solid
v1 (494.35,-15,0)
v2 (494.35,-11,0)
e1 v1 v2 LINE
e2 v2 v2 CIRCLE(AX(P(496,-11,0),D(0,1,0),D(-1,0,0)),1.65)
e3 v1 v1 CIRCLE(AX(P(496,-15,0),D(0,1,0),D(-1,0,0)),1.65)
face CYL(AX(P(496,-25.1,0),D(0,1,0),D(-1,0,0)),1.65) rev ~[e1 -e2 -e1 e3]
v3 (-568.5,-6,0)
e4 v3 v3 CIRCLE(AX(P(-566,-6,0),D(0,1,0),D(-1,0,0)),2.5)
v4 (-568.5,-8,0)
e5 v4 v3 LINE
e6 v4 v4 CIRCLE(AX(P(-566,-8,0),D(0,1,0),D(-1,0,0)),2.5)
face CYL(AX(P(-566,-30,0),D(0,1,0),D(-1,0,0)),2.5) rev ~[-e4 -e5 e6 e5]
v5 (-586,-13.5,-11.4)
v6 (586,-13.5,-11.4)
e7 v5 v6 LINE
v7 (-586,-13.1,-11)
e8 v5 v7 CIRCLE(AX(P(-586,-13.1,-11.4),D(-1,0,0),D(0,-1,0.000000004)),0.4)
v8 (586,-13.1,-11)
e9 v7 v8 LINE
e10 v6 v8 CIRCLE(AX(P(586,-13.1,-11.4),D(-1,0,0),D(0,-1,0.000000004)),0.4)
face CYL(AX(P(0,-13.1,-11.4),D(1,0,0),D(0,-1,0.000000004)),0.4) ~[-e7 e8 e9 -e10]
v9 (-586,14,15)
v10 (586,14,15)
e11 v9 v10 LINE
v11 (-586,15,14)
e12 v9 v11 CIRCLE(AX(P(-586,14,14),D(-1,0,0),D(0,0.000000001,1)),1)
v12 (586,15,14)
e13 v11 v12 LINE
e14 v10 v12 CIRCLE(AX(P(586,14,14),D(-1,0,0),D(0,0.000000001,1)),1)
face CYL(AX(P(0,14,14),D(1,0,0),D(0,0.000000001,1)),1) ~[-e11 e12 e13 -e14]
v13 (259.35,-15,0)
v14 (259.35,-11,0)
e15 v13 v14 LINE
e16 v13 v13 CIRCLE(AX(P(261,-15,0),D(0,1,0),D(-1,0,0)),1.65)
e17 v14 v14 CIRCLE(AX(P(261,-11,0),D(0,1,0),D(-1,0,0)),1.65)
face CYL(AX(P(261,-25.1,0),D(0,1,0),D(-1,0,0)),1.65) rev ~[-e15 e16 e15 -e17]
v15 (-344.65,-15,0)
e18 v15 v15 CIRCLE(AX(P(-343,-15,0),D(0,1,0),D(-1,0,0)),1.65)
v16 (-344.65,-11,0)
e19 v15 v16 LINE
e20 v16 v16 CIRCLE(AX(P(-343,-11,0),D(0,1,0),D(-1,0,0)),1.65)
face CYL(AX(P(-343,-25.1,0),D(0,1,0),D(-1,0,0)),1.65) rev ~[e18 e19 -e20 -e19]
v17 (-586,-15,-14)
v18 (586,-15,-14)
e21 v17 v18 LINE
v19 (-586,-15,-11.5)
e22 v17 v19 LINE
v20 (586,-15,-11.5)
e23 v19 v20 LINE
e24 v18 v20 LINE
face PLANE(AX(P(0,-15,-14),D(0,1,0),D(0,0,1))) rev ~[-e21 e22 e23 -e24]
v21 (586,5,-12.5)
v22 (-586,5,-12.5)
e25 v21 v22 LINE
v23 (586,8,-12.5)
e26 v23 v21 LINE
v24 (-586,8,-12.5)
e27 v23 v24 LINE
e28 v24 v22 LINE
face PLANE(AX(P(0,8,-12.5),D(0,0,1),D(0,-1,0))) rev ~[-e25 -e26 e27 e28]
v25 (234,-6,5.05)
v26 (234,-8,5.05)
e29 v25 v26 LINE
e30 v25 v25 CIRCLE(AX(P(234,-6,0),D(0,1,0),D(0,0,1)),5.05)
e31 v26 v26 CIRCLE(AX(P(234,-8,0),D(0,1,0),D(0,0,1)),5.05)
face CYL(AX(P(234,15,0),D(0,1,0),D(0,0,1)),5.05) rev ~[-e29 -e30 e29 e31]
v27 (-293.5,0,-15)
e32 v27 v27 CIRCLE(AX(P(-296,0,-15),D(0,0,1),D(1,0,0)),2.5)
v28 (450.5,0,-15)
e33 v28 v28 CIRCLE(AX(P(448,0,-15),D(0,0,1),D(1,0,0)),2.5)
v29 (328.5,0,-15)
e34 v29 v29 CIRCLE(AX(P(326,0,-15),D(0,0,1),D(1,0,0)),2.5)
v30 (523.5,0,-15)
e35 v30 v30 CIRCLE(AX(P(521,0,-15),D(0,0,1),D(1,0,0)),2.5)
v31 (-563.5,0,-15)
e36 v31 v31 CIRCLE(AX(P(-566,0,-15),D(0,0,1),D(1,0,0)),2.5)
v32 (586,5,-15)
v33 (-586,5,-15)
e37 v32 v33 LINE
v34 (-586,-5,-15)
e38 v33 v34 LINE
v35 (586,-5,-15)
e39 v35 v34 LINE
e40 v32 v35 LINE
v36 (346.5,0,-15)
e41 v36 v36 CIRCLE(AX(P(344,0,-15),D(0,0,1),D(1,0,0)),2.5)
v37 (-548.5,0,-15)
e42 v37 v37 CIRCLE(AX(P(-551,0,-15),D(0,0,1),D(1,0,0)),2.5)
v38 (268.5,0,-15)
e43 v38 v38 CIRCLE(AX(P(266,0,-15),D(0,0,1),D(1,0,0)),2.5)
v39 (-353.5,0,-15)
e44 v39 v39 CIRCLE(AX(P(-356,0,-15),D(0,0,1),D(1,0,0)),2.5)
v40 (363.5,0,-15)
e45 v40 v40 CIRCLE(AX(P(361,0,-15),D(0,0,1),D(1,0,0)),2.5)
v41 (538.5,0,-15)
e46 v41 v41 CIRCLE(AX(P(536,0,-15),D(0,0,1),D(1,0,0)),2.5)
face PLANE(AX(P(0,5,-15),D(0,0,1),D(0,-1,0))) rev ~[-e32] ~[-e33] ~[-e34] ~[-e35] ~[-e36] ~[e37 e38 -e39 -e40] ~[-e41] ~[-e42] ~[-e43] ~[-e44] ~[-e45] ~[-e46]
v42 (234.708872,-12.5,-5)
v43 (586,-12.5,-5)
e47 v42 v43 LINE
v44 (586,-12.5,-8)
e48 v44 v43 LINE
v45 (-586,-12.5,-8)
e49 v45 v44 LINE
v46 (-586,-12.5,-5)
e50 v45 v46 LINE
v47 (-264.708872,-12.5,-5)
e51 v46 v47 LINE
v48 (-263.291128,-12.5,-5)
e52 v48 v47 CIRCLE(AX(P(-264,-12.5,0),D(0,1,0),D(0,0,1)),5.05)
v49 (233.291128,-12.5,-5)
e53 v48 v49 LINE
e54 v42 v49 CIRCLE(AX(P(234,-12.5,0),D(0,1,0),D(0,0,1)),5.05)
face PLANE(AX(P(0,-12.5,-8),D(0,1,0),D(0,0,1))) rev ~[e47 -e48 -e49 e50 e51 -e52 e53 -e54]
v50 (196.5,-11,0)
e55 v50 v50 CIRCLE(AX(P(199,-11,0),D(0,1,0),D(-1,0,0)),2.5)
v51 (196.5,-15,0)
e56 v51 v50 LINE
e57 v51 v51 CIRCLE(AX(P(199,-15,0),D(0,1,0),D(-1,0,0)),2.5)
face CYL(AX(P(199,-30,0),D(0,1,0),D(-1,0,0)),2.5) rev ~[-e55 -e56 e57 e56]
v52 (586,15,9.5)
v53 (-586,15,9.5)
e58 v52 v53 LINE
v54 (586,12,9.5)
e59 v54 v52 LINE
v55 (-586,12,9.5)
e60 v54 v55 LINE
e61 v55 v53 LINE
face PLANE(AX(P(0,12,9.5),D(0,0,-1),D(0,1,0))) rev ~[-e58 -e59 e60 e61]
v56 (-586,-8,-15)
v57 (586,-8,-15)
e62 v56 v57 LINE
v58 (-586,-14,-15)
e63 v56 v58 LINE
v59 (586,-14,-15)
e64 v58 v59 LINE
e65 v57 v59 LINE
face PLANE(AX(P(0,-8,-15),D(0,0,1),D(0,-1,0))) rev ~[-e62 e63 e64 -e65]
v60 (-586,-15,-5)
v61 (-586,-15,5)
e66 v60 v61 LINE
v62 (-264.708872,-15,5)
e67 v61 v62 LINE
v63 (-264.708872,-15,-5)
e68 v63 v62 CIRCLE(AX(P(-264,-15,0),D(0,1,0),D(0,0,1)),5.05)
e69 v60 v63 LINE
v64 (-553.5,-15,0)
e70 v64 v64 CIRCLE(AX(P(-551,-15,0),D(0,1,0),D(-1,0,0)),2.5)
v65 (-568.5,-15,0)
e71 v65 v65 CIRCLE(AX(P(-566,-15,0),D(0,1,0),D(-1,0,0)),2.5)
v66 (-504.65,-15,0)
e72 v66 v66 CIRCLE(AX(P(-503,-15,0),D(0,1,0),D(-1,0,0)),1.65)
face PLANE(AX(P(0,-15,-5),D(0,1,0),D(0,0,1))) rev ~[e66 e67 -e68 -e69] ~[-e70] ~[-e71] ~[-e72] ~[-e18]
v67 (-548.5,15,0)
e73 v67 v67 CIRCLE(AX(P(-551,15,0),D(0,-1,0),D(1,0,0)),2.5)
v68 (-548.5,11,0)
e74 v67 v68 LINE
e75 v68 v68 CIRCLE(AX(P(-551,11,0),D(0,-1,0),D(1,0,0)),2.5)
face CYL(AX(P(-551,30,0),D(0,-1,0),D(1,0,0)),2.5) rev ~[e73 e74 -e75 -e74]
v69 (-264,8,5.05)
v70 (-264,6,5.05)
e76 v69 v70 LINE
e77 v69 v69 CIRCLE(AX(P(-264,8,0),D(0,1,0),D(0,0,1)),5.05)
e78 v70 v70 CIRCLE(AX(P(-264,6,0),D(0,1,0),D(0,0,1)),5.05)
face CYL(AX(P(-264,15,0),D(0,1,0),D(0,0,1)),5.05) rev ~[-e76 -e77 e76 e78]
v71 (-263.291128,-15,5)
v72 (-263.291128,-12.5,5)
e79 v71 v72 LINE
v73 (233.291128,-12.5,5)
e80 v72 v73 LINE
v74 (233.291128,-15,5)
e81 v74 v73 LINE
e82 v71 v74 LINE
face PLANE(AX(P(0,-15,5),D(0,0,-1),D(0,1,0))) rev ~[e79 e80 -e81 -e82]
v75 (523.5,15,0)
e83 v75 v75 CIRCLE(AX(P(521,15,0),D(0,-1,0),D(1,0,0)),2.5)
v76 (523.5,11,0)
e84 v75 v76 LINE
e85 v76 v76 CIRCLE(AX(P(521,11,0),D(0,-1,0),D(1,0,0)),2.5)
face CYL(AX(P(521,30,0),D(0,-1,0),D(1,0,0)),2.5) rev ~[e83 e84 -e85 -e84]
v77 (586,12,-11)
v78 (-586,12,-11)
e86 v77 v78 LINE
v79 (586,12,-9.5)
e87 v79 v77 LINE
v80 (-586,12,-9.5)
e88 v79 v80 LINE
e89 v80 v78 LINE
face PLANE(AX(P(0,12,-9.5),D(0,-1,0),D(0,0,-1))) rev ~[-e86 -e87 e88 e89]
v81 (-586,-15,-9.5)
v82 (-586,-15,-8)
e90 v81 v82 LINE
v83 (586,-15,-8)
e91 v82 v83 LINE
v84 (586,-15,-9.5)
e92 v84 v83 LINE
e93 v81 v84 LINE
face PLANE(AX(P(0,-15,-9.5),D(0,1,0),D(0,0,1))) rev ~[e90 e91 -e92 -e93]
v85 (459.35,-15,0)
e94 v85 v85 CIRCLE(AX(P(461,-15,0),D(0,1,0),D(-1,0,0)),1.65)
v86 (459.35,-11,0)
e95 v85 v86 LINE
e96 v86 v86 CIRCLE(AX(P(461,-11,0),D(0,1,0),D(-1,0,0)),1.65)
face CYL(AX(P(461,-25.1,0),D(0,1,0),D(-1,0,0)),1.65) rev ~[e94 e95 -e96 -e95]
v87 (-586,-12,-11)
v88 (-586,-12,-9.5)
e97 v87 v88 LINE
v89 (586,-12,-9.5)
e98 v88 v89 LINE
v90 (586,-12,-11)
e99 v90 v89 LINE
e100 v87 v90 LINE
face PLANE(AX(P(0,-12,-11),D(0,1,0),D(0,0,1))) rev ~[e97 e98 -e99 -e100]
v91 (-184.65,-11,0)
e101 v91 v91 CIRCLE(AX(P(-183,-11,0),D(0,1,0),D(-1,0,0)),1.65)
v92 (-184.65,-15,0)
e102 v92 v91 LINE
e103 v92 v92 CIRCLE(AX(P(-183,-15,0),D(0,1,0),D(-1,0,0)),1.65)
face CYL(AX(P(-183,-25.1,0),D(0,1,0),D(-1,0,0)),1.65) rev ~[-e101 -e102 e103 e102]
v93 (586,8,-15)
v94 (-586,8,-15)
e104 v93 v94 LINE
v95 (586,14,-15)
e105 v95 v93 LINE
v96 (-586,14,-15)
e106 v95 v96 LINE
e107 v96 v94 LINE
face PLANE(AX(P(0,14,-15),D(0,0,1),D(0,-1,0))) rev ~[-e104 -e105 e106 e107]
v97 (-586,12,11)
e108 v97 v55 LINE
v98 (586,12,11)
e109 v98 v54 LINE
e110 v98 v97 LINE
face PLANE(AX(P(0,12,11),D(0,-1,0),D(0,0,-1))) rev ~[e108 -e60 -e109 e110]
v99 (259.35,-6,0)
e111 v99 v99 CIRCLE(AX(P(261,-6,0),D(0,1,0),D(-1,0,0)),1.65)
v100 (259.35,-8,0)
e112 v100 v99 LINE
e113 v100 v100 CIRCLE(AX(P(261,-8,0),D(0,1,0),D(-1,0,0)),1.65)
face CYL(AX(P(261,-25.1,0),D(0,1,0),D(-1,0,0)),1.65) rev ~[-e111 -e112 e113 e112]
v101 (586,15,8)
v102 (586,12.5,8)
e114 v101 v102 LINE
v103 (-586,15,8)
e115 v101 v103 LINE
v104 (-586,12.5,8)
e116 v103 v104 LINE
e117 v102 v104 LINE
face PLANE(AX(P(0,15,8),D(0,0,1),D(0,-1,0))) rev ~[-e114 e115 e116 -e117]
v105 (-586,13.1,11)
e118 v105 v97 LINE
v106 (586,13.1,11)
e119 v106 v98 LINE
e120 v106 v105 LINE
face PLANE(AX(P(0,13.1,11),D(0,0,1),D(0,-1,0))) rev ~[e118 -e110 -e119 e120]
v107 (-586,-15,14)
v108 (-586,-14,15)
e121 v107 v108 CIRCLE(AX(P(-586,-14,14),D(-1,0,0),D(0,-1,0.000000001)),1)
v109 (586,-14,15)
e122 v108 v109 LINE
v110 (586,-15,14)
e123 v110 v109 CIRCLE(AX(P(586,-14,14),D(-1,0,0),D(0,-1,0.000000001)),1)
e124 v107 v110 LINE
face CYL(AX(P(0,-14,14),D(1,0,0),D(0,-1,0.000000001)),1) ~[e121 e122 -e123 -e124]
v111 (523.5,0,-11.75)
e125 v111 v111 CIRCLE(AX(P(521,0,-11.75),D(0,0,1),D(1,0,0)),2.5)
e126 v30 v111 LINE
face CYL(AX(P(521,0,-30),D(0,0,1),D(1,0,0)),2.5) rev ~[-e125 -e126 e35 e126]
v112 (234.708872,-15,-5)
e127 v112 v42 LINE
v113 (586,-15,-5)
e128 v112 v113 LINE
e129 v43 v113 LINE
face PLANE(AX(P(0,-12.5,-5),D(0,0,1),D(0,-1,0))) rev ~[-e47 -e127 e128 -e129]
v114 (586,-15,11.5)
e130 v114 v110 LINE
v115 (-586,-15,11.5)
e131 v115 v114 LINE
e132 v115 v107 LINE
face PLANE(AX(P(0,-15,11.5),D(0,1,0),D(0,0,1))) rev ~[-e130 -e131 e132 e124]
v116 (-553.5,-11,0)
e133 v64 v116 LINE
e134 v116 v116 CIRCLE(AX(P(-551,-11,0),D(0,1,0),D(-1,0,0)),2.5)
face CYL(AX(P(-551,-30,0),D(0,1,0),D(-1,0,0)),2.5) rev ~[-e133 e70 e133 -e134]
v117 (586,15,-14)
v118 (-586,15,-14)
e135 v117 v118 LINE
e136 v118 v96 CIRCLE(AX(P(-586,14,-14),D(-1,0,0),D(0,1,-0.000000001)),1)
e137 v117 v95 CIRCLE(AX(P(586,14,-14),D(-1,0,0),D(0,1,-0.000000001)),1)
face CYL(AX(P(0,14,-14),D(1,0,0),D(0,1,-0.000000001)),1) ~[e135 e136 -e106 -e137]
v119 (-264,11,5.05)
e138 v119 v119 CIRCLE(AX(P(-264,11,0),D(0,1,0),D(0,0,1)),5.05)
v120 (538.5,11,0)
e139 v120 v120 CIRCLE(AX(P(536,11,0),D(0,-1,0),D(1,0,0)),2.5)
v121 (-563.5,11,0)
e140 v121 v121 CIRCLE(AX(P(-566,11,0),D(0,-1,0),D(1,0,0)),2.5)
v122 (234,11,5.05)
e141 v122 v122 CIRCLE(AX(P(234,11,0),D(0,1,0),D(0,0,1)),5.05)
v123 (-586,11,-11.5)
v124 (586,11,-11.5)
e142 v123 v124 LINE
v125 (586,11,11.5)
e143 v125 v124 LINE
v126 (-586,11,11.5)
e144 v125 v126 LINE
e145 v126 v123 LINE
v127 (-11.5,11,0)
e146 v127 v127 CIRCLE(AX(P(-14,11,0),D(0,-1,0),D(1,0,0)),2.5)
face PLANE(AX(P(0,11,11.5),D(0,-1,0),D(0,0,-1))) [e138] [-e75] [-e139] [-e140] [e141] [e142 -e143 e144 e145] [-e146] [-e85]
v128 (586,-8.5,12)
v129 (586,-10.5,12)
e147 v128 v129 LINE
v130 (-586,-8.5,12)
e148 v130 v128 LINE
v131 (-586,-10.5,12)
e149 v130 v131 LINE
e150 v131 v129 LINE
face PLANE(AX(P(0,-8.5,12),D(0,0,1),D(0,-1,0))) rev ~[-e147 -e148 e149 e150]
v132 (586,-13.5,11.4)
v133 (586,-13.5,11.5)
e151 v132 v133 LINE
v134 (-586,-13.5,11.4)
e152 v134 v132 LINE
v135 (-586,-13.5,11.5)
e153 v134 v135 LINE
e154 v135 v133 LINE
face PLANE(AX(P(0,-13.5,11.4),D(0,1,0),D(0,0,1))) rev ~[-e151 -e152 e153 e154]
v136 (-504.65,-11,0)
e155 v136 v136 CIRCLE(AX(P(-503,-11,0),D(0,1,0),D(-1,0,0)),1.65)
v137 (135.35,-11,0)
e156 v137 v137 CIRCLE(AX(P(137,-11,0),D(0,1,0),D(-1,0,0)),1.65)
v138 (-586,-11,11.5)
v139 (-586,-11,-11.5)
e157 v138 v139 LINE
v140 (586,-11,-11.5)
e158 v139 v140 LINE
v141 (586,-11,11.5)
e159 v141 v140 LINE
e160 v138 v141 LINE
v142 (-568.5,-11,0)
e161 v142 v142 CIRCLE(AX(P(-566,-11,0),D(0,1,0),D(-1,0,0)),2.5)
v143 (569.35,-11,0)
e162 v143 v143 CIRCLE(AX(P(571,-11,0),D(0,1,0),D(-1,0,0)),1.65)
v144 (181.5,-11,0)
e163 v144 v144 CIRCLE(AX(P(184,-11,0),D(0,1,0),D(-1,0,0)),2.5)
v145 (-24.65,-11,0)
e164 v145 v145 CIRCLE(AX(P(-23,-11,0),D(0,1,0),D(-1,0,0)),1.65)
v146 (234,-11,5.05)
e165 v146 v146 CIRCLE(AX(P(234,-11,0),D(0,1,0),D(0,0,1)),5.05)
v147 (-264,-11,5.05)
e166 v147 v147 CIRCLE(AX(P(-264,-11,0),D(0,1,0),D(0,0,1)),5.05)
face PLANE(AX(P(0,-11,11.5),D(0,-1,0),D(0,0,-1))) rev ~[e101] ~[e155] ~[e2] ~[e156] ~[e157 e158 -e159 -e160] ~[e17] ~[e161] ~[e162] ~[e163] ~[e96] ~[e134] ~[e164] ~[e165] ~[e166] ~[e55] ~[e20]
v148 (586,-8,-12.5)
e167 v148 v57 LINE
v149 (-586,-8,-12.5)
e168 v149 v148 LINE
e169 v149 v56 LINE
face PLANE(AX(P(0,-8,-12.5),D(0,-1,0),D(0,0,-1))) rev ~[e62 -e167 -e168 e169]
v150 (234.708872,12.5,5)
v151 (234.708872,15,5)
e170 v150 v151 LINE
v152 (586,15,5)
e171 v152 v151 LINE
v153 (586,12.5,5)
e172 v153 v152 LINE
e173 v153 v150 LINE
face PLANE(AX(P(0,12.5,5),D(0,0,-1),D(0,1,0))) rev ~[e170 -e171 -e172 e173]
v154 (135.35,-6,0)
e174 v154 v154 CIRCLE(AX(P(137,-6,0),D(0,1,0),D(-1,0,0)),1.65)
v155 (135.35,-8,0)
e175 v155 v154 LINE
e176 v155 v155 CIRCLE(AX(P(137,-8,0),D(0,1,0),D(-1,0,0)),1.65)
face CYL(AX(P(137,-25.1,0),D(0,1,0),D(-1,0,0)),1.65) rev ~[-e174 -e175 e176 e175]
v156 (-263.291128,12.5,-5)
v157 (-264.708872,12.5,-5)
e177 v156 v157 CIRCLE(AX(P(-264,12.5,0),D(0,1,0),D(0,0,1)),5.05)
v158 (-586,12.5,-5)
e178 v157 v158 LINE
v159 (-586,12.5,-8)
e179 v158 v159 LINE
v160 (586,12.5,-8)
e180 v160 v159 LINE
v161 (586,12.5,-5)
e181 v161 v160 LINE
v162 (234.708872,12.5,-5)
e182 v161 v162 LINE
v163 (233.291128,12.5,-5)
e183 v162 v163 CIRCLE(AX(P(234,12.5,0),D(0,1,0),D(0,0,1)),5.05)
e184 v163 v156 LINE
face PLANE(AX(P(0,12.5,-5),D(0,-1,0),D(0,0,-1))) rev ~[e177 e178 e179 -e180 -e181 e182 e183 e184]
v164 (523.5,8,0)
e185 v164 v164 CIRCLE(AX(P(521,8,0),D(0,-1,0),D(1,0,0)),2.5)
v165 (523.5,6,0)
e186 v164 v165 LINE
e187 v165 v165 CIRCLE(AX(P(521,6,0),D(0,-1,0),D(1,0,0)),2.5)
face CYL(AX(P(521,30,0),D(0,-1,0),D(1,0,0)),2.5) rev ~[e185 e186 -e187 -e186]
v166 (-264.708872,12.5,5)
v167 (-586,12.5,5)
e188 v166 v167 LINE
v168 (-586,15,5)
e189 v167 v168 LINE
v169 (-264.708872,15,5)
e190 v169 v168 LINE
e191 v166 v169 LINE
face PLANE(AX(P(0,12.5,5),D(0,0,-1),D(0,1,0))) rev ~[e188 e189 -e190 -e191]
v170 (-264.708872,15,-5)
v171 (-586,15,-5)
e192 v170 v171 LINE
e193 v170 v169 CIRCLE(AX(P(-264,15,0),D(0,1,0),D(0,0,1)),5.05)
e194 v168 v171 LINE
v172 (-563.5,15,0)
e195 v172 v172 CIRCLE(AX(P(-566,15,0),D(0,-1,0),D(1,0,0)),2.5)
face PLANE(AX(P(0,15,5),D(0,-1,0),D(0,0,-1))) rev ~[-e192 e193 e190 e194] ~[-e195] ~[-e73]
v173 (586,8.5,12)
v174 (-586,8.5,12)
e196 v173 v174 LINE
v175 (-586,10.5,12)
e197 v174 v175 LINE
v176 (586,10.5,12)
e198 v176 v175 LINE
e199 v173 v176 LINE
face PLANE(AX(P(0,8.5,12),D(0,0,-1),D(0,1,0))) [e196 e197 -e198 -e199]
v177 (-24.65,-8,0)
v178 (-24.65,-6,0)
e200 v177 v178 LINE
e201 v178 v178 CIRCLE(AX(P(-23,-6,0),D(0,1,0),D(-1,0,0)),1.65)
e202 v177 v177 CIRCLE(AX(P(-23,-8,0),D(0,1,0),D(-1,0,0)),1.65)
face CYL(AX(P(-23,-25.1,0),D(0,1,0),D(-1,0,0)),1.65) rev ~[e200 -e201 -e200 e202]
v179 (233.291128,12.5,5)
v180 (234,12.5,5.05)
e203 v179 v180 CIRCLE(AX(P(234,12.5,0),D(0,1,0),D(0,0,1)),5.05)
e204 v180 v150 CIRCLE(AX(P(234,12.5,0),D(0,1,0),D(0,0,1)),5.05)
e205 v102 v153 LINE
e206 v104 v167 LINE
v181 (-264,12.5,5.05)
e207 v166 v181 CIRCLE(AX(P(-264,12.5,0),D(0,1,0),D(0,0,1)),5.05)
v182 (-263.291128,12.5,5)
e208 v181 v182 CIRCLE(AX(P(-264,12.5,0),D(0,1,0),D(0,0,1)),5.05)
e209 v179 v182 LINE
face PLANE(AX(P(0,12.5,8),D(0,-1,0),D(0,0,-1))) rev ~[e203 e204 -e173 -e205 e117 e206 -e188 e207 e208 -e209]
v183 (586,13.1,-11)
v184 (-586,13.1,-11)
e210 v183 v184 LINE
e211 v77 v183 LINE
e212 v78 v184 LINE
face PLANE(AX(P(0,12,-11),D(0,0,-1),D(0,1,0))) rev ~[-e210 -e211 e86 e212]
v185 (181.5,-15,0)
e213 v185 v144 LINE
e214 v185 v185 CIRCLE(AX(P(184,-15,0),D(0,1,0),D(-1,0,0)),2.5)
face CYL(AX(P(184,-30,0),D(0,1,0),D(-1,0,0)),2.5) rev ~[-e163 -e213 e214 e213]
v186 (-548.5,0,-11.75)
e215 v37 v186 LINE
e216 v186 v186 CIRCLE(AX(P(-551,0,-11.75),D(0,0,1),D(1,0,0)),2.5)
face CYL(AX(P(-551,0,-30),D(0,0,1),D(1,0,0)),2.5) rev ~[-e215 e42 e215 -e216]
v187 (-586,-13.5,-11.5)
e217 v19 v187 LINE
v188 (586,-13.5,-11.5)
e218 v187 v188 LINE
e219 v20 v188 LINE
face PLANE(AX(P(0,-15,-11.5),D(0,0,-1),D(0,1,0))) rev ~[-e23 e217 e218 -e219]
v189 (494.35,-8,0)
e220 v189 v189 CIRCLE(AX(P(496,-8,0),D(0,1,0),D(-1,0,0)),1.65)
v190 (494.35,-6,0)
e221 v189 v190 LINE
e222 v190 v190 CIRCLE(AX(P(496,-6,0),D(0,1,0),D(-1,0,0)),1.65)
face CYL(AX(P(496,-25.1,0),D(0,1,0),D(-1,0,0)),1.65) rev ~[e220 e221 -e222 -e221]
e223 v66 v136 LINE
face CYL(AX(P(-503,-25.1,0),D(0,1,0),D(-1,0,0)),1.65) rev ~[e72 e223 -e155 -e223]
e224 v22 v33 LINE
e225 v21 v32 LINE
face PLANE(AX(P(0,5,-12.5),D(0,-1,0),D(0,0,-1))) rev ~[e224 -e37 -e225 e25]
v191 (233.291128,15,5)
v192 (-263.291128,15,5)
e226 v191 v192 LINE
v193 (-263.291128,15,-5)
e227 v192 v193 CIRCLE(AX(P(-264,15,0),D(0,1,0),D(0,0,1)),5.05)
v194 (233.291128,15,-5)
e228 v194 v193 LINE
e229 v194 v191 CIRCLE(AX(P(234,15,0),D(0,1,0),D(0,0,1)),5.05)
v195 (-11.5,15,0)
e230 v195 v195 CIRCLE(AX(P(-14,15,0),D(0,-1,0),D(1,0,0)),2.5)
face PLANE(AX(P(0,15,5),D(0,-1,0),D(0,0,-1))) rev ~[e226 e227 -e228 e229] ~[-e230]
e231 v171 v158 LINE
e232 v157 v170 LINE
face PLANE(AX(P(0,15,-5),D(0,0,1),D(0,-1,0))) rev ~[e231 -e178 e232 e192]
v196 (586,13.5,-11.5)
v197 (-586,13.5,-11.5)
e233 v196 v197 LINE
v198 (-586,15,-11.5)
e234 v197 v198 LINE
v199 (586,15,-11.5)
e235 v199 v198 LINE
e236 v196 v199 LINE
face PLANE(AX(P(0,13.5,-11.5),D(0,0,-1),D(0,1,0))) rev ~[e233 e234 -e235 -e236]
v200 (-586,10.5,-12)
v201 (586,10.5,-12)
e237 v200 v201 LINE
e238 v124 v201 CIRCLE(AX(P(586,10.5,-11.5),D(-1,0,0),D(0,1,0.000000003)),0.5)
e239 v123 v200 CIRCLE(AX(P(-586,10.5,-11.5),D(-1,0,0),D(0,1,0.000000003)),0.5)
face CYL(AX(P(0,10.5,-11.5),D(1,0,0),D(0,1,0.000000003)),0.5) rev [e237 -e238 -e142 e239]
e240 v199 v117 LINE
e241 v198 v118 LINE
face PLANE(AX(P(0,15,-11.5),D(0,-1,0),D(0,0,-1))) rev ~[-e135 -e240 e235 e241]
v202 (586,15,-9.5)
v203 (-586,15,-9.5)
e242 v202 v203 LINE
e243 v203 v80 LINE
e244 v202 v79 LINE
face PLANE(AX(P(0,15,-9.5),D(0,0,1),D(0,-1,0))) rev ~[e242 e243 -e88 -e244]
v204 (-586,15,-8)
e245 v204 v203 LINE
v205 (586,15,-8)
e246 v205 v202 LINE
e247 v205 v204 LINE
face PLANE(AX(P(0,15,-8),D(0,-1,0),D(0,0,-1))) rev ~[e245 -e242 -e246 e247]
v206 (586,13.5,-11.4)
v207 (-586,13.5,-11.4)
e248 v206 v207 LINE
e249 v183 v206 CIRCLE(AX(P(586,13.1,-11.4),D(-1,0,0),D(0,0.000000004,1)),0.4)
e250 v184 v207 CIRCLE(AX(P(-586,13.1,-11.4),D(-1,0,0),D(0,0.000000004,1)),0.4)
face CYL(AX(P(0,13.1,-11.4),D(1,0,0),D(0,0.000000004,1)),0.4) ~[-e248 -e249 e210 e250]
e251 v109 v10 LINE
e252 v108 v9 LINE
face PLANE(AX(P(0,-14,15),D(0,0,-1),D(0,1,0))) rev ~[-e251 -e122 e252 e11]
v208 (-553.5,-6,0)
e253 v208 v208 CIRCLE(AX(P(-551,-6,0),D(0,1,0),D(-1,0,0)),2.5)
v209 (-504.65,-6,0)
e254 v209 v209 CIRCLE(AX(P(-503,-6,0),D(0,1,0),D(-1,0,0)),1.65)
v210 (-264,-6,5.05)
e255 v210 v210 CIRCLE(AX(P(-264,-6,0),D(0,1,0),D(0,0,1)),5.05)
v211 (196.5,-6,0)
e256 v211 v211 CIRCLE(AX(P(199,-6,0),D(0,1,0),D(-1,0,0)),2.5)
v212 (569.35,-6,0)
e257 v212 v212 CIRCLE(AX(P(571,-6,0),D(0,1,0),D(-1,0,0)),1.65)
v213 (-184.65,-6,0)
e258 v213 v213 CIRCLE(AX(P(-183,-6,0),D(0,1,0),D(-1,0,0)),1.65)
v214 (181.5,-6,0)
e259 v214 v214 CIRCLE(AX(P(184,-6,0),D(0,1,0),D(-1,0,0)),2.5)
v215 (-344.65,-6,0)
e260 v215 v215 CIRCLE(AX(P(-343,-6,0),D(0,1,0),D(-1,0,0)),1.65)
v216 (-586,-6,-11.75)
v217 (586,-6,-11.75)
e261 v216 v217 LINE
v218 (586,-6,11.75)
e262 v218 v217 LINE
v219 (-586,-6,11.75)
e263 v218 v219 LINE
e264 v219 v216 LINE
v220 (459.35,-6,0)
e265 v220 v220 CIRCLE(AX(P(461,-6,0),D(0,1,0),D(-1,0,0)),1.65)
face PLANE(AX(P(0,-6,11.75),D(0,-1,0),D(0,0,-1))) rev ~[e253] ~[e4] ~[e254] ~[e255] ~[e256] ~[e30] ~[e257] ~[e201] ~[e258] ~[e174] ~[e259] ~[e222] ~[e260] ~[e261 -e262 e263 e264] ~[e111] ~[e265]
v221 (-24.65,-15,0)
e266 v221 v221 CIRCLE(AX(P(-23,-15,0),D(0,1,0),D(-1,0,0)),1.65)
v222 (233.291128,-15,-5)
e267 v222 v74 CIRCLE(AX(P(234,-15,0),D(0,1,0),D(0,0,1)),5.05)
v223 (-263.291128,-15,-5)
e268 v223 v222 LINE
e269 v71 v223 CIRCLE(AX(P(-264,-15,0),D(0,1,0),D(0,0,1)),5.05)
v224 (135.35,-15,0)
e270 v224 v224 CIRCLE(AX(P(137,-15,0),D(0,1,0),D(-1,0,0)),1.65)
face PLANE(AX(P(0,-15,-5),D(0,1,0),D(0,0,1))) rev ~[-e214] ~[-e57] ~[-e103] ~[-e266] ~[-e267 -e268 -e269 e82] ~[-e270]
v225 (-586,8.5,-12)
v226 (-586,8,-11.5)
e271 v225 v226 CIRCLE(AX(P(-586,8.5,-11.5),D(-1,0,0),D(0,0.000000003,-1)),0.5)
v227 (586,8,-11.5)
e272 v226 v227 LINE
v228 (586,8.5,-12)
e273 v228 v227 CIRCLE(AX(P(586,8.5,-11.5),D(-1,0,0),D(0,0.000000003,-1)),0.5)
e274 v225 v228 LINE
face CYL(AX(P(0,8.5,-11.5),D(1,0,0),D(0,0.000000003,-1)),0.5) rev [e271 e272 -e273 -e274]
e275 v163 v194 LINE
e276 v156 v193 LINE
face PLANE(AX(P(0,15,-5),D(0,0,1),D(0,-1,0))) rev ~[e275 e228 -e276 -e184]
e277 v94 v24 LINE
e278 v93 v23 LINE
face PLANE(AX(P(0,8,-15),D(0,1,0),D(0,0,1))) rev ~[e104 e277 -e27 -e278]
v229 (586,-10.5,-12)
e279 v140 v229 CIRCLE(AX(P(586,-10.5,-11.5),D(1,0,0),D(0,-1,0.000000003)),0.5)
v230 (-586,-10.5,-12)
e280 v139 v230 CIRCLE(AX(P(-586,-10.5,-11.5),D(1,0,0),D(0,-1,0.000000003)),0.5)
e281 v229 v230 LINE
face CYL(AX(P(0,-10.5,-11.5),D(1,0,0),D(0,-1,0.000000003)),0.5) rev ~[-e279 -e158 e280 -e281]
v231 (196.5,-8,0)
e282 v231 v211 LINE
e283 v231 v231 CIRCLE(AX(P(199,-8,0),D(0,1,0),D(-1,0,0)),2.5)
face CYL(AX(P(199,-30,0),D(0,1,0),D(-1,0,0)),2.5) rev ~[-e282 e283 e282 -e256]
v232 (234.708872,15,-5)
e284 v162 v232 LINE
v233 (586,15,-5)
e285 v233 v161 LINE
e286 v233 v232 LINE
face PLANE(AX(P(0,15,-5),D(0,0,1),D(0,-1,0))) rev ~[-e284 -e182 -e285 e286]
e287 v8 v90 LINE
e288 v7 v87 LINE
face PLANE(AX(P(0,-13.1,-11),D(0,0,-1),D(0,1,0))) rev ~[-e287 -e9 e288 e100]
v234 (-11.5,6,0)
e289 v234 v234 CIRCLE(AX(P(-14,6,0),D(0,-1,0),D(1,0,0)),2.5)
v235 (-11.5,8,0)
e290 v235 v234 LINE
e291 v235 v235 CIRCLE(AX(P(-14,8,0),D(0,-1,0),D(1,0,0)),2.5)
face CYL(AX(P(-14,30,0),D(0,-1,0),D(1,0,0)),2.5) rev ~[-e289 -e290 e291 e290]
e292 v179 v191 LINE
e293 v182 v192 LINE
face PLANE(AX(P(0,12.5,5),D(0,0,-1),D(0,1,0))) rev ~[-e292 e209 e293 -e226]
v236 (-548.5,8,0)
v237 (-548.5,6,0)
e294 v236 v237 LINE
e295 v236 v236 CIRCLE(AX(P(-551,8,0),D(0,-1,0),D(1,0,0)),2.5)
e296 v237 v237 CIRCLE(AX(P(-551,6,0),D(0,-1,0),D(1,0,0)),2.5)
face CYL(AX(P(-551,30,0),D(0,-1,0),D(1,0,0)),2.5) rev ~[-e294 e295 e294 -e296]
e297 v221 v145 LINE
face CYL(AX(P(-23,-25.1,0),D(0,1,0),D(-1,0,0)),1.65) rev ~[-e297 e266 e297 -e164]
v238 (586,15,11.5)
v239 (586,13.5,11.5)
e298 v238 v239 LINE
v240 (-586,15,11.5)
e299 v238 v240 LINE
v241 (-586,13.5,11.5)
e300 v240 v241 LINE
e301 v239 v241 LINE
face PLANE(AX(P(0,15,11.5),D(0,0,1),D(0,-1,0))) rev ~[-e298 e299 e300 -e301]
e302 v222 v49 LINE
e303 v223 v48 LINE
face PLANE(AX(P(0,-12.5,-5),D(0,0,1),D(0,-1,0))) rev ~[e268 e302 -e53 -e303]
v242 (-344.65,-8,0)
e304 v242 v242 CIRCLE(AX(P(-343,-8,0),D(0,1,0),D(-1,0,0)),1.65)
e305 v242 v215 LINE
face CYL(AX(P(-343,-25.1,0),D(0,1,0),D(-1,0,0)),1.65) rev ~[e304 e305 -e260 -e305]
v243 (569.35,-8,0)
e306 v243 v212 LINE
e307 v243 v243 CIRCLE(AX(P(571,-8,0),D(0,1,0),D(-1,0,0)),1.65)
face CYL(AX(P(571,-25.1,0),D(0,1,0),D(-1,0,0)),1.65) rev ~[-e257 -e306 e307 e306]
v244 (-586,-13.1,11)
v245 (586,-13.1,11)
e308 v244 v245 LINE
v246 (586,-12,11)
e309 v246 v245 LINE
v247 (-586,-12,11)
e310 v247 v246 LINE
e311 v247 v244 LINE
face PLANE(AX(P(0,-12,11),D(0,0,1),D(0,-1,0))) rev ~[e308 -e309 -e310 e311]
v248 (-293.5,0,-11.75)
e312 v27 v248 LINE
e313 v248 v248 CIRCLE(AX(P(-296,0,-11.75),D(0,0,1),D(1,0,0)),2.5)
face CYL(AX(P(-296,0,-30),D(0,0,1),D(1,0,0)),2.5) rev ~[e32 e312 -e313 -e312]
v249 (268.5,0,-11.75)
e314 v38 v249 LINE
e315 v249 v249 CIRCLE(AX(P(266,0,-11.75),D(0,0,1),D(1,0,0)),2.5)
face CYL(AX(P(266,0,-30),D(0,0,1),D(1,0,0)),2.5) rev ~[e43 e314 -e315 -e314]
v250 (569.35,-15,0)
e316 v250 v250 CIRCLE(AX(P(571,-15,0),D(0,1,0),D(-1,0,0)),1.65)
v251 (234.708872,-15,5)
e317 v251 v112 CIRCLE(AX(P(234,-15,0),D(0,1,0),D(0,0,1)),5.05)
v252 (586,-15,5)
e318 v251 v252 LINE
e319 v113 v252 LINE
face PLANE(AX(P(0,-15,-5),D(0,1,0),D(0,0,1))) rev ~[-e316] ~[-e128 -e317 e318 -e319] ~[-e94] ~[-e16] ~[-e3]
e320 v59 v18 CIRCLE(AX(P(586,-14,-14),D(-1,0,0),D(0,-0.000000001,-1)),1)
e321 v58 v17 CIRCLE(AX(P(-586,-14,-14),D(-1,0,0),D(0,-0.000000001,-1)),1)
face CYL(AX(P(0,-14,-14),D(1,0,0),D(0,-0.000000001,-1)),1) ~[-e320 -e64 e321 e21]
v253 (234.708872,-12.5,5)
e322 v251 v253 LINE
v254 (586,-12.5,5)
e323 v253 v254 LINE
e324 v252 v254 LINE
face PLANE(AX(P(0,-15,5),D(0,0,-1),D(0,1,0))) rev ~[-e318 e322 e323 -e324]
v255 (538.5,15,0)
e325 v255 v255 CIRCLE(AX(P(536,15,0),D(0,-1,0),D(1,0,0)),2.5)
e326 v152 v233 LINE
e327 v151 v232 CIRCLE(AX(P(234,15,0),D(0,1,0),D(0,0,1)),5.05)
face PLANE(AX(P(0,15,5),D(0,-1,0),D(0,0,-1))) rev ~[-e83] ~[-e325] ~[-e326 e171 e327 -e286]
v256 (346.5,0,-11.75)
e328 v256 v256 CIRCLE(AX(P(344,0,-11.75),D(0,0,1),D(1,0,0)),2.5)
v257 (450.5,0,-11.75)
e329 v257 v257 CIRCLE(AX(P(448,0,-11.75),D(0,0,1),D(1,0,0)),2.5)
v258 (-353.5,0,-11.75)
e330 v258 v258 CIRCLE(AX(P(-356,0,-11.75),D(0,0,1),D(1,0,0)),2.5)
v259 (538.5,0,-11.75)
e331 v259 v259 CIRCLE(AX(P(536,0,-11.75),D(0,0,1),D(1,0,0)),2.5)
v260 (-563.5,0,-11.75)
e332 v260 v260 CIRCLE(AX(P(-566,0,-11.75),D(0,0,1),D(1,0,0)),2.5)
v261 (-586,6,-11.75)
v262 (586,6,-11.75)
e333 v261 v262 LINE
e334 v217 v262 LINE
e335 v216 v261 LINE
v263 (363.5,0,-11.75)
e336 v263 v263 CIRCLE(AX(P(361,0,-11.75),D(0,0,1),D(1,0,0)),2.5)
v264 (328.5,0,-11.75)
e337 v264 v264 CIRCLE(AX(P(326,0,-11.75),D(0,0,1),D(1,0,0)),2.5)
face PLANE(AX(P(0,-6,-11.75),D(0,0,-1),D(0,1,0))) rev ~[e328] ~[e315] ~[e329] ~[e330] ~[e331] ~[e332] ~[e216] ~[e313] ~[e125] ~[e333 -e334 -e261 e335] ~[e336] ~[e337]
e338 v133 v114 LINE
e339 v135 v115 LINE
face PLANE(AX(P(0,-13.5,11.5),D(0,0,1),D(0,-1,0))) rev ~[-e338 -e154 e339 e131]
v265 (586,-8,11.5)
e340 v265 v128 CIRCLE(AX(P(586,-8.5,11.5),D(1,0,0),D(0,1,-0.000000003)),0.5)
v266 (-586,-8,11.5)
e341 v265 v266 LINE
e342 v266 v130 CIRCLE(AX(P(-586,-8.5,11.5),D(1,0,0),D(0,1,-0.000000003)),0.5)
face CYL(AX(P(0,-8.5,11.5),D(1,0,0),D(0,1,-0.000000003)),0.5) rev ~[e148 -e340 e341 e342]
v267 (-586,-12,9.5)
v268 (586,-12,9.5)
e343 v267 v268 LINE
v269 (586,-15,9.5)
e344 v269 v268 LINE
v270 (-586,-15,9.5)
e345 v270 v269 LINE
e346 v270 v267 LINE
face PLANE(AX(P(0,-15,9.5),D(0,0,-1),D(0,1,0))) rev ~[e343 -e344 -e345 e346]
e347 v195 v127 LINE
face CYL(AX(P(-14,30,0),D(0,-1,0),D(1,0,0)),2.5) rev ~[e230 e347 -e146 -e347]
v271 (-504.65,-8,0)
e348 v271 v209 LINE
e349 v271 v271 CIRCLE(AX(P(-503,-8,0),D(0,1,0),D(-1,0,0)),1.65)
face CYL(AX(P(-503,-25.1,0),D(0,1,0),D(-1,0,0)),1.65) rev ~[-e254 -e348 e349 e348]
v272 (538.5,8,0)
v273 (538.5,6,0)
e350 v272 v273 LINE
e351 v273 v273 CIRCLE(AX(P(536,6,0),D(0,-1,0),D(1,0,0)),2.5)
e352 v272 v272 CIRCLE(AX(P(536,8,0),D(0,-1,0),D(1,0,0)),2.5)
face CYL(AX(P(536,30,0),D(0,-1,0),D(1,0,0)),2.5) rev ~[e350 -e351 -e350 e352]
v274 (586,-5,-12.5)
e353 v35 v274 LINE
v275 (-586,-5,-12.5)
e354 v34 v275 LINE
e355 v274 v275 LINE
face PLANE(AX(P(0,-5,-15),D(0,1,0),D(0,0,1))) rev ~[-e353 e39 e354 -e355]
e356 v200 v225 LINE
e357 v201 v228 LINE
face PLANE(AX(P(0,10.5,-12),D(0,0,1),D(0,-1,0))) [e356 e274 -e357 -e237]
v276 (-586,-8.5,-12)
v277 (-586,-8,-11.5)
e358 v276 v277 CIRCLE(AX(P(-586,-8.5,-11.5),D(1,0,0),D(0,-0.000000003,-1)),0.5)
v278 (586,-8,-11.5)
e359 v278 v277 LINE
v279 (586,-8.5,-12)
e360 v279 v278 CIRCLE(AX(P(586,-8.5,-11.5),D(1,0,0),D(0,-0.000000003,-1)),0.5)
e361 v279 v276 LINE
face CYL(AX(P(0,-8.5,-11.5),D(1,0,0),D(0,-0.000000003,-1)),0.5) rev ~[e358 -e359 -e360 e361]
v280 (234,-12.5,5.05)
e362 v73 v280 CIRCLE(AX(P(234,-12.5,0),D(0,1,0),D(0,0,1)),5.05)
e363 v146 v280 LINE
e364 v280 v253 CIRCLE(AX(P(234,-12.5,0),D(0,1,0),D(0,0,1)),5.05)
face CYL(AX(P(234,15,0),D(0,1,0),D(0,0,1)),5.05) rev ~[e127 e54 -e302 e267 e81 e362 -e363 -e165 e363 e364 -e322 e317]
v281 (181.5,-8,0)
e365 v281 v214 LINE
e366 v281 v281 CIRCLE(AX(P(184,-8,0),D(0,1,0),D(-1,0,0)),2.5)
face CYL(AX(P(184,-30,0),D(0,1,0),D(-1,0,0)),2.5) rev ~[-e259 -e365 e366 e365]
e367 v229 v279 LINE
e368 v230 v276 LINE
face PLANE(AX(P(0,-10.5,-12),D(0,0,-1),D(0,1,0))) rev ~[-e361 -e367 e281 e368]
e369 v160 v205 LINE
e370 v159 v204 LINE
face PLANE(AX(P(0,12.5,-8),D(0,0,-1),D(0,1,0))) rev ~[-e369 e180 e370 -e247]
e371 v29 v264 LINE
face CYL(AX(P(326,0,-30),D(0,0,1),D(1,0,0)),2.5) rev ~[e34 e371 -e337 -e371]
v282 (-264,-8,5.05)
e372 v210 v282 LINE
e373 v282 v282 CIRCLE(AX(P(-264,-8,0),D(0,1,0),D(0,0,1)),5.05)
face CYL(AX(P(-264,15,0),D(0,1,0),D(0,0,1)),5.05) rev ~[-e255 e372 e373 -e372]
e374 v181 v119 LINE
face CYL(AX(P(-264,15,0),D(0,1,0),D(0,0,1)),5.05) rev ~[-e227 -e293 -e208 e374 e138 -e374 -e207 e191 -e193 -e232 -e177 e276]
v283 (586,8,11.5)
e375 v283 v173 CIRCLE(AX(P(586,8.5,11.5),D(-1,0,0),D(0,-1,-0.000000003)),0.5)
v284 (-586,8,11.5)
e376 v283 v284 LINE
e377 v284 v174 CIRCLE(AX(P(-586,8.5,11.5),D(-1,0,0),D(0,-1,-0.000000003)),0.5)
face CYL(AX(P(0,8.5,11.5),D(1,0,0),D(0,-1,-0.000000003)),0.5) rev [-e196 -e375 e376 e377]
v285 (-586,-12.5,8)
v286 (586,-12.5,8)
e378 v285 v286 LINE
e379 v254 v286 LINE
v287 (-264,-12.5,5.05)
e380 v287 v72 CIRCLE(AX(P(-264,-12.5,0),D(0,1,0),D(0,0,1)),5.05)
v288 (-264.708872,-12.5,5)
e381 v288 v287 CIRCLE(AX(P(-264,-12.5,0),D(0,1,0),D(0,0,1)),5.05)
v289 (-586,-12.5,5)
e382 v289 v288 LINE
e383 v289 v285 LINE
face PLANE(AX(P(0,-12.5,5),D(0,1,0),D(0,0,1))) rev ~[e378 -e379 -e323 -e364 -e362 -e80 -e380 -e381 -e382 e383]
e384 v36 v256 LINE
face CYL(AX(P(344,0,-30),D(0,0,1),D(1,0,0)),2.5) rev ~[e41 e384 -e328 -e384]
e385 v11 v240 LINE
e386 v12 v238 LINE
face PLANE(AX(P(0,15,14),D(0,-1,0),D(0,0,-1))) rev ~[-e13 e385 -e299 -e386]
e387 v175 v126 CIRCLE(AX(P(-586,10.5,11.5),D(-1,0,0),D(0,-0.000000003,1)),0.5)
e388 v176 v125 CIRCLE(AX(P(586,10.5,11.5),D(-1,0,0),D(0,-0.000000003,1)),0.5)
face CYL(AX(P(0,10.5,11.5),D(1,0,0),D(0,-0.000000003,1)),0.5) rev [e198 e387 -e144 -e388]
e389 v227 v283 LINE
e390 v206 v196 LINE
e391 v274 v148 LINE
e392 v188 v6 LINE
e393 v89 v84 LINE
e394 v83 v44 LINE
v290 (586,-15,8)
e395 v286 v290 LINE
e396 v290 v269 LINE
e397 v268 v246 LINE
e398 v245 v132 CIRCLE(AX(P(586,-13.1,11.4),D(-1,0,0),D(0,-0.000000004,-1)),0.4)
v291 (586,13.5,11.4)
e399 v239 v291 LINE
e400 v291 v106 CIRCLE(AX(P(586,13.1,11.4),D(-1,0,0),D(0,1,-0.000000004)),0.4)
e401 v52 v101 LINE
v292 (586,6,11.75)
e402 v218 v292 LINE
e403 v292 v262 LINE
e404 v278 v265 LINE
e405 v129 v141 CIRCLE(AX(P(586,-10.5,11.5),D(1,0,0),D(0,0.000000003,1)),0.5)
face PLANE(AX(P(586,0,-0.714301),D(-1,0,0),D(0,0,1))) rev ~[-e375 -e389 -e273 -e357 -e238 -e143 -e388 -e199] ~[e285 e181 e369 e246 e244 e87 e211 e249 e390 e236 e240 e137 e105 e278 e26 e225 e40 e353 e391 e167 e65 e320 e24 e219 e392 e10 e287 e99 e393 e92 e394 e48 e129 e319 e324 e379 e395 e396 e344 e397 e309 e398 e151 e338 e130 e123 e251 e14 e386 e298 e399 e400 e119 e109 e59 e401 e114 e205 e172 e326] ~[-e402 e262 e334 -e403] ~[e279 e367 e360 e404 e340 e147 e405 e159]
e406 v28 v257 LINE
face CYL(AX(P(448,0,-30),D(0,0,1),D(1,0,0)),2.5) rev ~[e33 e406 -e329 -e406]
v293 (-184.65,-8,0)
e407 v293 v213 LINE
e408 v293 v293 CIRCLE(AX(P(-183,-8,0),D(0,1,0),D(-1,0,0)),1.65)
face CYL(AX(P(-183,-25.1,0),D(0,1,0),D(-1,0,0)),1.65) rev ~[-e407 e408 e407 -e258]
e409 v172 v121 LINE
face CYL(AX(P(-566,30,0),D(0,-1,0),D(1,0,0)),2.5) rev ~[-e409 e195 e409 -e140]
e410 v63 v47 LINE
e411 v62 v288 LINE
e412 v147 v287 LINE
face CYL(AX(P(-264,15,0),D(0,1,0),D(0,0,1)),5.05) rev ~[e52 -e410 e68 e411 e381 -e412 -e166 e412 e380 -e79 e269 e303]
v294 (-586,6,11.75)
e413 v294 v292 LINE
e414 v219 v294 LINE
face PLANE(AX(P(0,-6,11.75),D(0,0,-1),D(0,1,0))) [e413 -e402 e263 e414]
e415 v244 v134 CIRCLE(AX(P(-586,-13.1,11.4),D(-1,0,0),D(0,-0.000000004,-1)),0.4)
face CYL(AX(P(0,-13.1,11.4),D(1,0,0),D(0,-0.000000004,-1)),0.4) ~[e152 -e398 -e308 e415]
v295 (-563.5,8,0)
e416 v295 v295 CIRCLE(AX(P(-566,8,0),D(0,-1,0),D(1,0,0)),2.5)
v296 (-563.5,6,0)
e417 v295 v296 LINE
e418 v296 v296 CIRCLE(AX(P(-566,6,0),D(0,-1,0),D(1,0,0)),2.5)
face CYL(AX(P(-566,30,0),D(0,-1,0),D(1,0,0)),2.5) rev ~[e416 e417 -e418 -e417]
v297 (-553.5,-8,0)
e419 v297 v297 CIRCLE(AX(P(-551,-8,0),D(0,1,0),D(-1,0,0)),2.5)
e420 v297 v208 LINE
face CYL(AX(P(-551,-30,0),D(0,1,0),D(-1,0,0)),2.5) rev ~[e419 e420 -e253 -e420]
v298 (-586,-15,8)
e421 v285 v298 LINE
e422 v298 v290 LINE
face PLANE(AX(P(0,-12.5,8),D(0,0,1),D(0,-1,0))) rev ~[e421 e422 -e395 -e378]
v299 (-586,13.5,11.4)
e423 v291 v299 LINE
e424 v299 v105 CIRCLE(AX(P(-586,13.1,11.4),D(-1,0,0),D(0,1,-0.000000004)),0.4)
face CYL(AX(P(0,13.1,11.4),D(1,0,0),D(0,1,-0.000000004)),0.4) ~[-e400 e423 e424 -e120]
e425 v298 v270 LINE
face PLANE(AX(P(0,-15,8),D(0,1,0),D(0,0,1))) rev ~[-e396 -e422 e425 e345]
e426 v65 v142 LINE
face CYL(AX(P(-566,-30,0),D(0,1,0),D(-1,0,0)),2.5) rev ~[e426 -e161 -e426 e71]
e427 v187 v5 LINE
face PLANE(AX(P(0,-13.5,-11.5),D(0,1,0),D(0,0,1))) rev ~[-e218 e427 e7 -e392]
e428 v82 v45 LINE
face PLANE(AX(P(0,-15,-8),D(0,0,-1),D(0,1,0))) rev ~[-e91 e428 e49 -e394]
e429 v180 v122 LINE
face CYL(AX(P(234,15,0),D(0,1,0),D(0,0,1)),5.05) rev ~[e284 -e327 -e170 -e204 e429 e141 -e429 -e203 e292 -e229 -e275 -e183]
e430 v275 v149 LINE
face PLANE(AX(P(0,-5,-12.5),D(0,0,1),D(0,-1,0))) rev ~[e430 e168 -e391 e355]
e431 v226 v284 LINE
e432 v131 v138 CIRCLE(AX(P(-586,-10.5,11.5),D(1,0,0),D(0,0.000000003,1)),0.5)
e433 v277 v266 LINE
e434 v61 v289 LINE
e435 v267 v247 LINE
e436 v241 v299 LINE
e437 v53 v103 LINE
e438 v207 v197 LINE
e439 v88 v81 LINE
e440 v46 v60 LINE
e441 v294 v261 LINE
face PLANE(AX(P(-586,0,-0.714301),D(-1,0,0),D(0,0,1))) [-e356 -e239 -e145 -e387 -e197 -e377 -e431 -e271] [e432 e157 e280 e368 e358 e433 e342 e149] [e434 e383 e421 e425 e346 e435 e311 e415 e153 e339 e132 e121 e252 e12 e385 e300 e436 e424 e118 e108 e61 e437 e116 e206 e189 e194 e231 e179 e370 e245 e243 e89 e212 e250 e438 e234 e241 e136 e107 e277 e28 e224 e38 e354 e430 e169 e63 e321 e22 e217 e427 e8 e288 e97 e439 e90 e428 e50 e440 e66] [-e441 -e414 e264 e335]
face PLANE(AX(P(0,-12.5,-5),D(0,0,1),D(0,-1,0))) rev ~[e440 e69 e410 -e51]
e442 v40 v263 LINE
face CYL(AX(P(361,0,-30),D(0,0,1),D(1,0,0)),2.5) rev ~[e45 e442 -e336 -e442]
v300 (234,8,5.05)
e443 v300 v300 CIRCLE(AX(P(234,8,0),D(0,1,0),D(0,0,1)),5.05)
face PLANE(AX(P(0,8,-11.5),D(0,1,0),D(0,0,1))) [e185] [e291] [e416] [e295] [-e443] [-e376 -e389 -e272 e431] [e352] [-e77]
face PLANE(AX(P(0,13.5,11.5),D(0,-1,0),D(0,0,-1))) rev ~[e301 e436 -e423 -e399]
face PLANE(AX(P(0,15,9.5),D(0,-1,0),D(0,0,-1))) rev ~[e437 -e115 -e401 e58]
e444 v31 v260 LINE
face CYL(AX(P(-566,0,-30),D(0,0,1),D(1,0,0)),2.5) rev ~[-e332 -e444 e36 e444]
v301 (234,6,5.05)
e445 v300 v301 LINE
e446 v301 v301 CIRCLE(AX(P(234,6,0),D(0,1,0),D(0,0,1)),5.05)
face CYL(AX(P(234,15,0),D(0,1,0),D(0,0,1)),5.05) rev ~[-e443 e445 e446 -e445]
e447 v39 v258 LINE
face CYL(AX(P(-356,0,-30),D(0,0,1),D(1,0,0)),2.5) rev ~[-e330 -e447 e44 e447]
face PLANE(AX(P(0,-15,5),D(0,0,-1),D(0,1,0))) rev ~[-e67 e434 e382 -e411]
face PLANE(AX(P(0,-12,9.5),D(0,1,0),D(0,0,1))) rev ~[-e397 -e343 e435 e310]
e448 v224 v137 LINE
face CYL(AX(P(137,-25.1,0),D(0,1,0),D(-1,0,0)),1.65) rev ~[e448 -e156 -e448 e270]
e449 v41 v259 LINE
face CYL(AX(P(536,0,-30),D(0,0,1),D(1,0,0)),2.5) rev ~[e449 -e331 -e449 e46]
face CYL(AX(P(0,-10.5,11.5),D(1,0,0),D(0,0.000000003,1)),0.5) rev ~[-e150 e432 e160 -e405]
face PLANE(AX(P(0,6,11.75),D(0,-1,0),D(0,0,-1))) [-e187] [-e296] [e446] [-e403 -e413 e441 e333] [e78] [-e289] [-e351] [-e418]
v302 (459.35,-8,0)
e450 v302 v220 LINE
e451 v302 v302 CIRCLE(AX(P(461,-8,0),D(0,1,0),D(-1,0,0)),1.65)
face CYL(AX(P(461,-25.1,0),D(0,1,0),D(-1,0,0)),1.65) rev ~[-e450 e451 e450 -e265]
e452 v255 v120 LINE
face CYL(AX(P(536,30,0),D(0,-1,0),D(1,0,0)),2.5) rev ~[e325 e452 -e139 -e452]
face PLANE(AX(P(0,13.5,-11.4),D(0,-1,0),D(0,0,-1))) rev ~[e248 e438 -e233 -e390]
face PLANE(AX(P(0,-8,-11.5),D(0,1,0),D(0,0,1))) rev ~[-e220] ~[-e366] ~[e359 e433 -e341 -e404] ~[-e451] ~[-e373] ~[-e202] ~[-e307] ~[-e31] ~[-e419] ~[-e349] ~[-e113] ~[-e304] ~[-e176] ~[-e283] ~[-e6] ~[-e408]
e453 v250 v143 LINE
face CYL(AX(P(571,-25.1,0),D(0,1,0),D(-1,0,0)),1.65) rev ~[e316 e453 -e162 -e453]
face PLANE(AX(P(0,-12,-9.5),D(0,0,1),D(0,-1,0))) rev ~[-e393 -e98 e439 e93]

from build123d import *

# Parameters (mm, degrees)
SKETCH_1_W             = 23.5
SKETCH_1_H             = 12
EXTRUDE_1_DEPTH        = 586
HOLE_WIZARD_M6_1_D     = 5
HOLE_WIZARD_M6_1_DEPTH = 15
HOLE_WIZARD_M6_1_TIP   = 1.502151548
HOLE_WIZARD_M6_2_D     = 5
HOLE_WIZARD_M6_2_DEPTH = 15
HOLE_WIZARD_M6_2_TIP   = 1.502151548
HOLE_WIZARD_M6_3_D     = 5
HOLE_WIZARD_M6_3_DEPTH = 15
HOLE_WIZARD_M6_3_TIP   = 1.502151548
SKETCH_10_R            = 5.05
CUT_EXTRUDE_1_DEPTH    = 587.959112716
HOLE_WIZARD_M4_1_D     = 3.3
HOLE_WIZARD_M4_1_DEPTH = 10.1
HOLE_WIZARD_M4_1_TIP   = 0.991420021
HOLE_WIZARD_M4_2_D     = 3.3
HOLE_WIZARD_M4_2_DEPTH = 10.1
HOLE_WIZARD_M4_2_TIP   = 0.991420021
HOLE_WIZARD_M4_3_D     = 3.3
HOLE_WIZARD_M4_3_DEPTH = 10.1
HOLE_WIZARD_M4_3_TIP   = 0.991420021
HOLE_WIZARD_M6_4_D     = 5
HOLE_WIZARD_M6_4_DEPTH = 15
HOLE_WIZARD_M6_4_TIP   = 1.502151548


with BuildPart() as part:
    # 草图1 → 凸台-拉伸1 (new, symmetric)
    with BuildSketch(Plane(origin=(0, 0, 0), x_dir=(0, 0, -1), z_dir=(1, 0, 0))):
        with BuildLine():
            Line((-14, 15), (-11.5, 15))
            Line((-11.5, 15), (-11.5, 13.5))
            Line((-11.5, 13.5), (-11.4, 13.5))
            ThreePointArc((-11.4, 13.5), (-11.117157288, 13.382842712), (-11, 13.1))
            Line((-11, 13.1), (-11, 12))
            Line((-11, 12), (-9.5, 12))
            Line((-9.5, 12), (-9.5, 15))
            Line((-9.5, 15), (-8, 15))
            Line((-8, 15), (-8, 12.5))
            Line((-8, 12.5), (-5, 12.5))
            Line((-5, 12.5), (-5, 15))
            Line((-5, 15), (5, 15))
            Line((5, 15), (5, 12.5))
            Line((5, 12.5), (8, 12.5))
            Line((8, 12.5), (8, 15))
            Line((8, 15), (9.5, 15))
            Line((9.5, 15), (9.5, 12))
            Line((9.5, 12), (11, 12))
            Line((11, 12), (11, 13.1))
            ThreePointArc((11, 13.1), (11.117157288, 13.382842712), (11.4, 13.5))
            Line((11.4, 13.5), (11.5, 13.5))
            Line((11.5, 13.5), (11.5, 15))
            Line((11.5, 15), (14, 15))
            ThreePointArc((14, 15), (14.707106781, 14.707106781), (15, 14))
            Line((15, 14), (15, 8))
            Line((15, 8), (12.5, 8))
            Line((12.5, 8), (12.5, 5))
            Line((12.5, 5), (15, 5))
            Line((15, 5), (15, -5))
            Line((15, -5), (12.5, -5))
            Line((12.5, -5), (12.5, -8))
            Line((12.5, -8), (15, -8))
            Line((15, -8), (15, -14))
            ThreePointArc((15, -14), (14.707106781, -14.707106781), (14, -15))
            Line((14, -15), (11.5, -15))
            Line((11.5, -15), (11.5, -13.5))
            Line((11.5, -13.5), (11.4, -13.5))
            ThreePointArc((11.4, -13.5), (11.117157288, -13.382842712), (11, -13.1))
            Line((11, -13.1), (11, -12))
            Line((11, -12), (9.5, -12))
            Line((9.5, -12), (9.5, -15))
            Line((9.5, -15), (8, -15))
            Line((8, -15), (8, -12.5))
            Line((8, -12.5), (5, -12.5))
            Line((5, -12.5), (5, -15))
            Line((5, -15), (-5, -15))
            Line((-5, -15), (-5, -12.5))
            Line((-5, -12.5), (-8, -12.5))
            Line((-8, -12.5), (-8, -15))
            Line((-8, -15), (-9.5, -15))
            Line((-9.5, -15), (-9.5, -12))
            Line((-9.5, -12), (-11, -12))
            Line((-11, -12), (-11, -13.1))
            ThreePointArc((-11, -13.1), (-11.117157288, -13.382842712), (-11.4, -13.5))
            Line((-11.4, -13.5), (-11.5, -13.5))
            Line((-11.5, -13.5), (-11.5, -15))
            Line((-11.5, -15), (-14, -15))
            ThreePointArc((-14, -15), (-14.707106781, -14.707106781), (-15, -14))
            Line((-15, -14), (-15, 14))
            ThreePointArc((-15, 14), (-14.707106781, 14.707106781), (-14, 15))
        make_face()
        with BuildLine():
            Line((12, -10.5), (12, -8.5))
            ThreePointArc((12, -8.5), (11.853553391, -8.146446609), (11.5, -8))
            Line((11.5, -8), (-11.5, -8))
            ThreePointArc((-11.5, -8), (-11.853553391, -8.146446609), (-12, -8.5))
            Line((-12, -8.5), (-12, -10.5))
            ThreePointArc((-12, -10.5), (-11.853553391, -10.853553391), (-11.5, -11))
            Line((-11.5, -11), (11.5, -11))
            ThreePointArc((11.5, -11), (11.853553391, -10.853553391), (12, -10.5))
        make_face(mode=Mode.SUBTRACT)
        with BuildLine():
            Line((-11.5, 11), (11.5, 11))
            ThreePointArc((11.5, 11), (11.853553391, 10.853553391), (12, 10.5))
            Line((12, 10.5), (12, 8.5))
            ThreePointArc((12, 8.5), (11.853553391, 8.146446609), (11.5, 8))
            Line((11.5, 8), (-11.5, 8))
            ThreePointArc((-11.5, 8), (-11.853553391, 8.146446609), (-12, 8.5))
            Line((-12, 8.5), (-12, 10.5))
            ThreePointArc((-12, 10.5), (-11.853553391, 10.853553391), (-11.5, 11))
        make_face(mode=Mode.SUBTRACT)
        Rectangle(SKETCH_1_W, SKETCH_1_H, mode=Mode.SUBTRACT)
    extrude(amount=EXTRUDE_1_DEPTH, both=True)

    # M6 螺纹孔1
    with Locations(Plane.XZ.offset(15)):
        with Locations((-566, 0), (-551, 0), (184, 0), (199, 0)):
            Hole(HOLE_WIZARD_M6_1_D / 2, depth=HOLE_WIZARD_M6_1_DEPTH)
            with Locations((0, 0, -(HOLE_WIZARD_M6_1_DEPTH + HOLE_WIZARD_M6_1_TIP / 2))):  # 118° drill point
                Cone(0, HOLE_WIZARD_M6_1_D / 2, HOLE_WIZARD_M6_1_TIP, mode=Mode.SUBTRACT)

    # M6 螺纹孔2
    with Locations(Plane(origin=(0, 0, -15), x_dir=(-1, 0, 0), z_dir=(0, 0, -1))):
        with Locations((566, 0), (551, 0), (-521, 0), (-536, 0), (-448, 0), (-361, 0), (-344, 0)):
            Hole(HOLE_WIZARD_M6_2_D / 2, depth=HOLE_WIZARD_M6_2_DEPTH)
            with Locations((0, 0, -(HOLE_WIZARD_M6_2_DEPTH + HOLE_WIZARD_M6_2_TIP / 2))):  # 118° drill point
                Cone(0, HOLE_WIZARD_M6_2_D / 2, HOLE_WIZARD_M6_2_TIP, mode=Mode.SUBTRACT)

    # M6 螺纹孔3
    with Locations(Plane(origin=(0, 15, 0), x_dir=(-1, 0, 0), z_dir=(0, 1, 0))):
        with Locations((-536, 0), (-521, 0), (551, 0), (566, 0), (14, 0)):
            Hole(HOLE_WIZARD_M6_3_D / 2, depth=HOLE_WIZARD_M6_3_DEPTH)
            with Locations((0, 0, -(HOLE_WIZARD_M6_3_DEPTH + HOLE_WIZARD_M6_3_TIP / 2))):  # 118° drill point
                Cone(0, HOLE_WIZARD_M6_3_D / 2, HOLE_WIZARD_M6_3_TIP, mode=Mode.SUBTRACT)

    # 草图10 → 切除-拉伸1 (cut, through all)
    with BuildSketch(Plane(origin=(0, 15, 0), x_dir=(1, 0, 0), z_dir=(0, 1, 0))):
        with Locations(Location((234, 0, 0), (0, 0, 270))):
            Circle(SKETCH_10_R)
        with Locations(Location((-264, 0, 0), (0, 0, 270))):
            Circle(SKETCH_10_R)
    extrude(amount=-CUT_EXTRUDE_1_DEPTH, mode=Mode.SUBTRACT)

    # M4 螺纹孔1
    with Locations(Plane.XZ.offset(15)):
        with Locations((137, 0), (-23, 0), (-183, 0), (-343, 0), (-503, 0)):
            Hole(HOLE_WIZARD_M4_1_D / 2, depth=HOLE_WIZARD_M4_1_DEPTH)
            with Locations((0, 0, -(HOLE_WIZARD_M4_1_DEPTH + HOLE_WIZARD_M4_1_TIP / 2))):  # 118° drill point
                Cone(0, HOLE_WIZARD_M4_1_D / 2, HOLE_WIZARD_M4_1_TIP, mode=Mode.SUBTRACT)

    # M4 螺纹孔2
    with Locations(Plane.XZ.offset(15)):
        with Locations((461, 0), (261, 0)):
            Hole(HOLE_WIZARD_M4_2_D / 2, depth=HOLE_WIZARD_M4_2_DEPTH)
            with Locations((0, 0, -(HOLE_WIZARD_M4_2_DEPTH + HOLE_WIZARD_M4_2_TIP / 2))):  # 118° drill point
                Cone(0, HOLE_WIZARD_M4_2_D / 2, HOLE_WIZARD_M4_2_TIP, mode=Mode.SUBTRACT)

    # M4 螺纹孔3
    with Locations(Plane.XZ.offset(15)):
        with Locations((571, 0), (496, 0)):
            Hole(HOLE_WIZARD_M4_3_D / 2, depth=HOLE_WIZARD_M4_3_DEPTH)
            with Locations((0, 0, -(HOLE_WIZARD_M4_3_DEPTH + HOLE_WIZARD_M4_3_TIP / 2))):  # 118° drill point
                Cone(0, HOLE_WIZARD_M4_3_D / 2, HOLE_WIZARD_M4_3_TIP, mode=Mode.SUBTRACT)

    # M6 螺纹孔4
    with Locations(Plane(origin=(0, 0, -15), x_dir=(-1, 0, 0), z_dir=(0, 0, -1))):
        with Locations((-326, 0), (-266, 0), (296, 0), (356, 0)):
            Hole(HOLE_WIZARD_M6_4_D / 2, depth=HOLE_WIZARD_M6_4_DEPTH)
            with Locations((0, 0, -(HOLE_WIZARD_M6_4_DEPTH + HOLE_WIZARD_M6_4_TIP / 2))):  # 118° drill point
                Cone(0, HOLE_WIZARD_M6_4_D / 2, HOLE_WIZARD_M6_4_TIP, mode=Mode.SUBTRACT)


solid = part.part
